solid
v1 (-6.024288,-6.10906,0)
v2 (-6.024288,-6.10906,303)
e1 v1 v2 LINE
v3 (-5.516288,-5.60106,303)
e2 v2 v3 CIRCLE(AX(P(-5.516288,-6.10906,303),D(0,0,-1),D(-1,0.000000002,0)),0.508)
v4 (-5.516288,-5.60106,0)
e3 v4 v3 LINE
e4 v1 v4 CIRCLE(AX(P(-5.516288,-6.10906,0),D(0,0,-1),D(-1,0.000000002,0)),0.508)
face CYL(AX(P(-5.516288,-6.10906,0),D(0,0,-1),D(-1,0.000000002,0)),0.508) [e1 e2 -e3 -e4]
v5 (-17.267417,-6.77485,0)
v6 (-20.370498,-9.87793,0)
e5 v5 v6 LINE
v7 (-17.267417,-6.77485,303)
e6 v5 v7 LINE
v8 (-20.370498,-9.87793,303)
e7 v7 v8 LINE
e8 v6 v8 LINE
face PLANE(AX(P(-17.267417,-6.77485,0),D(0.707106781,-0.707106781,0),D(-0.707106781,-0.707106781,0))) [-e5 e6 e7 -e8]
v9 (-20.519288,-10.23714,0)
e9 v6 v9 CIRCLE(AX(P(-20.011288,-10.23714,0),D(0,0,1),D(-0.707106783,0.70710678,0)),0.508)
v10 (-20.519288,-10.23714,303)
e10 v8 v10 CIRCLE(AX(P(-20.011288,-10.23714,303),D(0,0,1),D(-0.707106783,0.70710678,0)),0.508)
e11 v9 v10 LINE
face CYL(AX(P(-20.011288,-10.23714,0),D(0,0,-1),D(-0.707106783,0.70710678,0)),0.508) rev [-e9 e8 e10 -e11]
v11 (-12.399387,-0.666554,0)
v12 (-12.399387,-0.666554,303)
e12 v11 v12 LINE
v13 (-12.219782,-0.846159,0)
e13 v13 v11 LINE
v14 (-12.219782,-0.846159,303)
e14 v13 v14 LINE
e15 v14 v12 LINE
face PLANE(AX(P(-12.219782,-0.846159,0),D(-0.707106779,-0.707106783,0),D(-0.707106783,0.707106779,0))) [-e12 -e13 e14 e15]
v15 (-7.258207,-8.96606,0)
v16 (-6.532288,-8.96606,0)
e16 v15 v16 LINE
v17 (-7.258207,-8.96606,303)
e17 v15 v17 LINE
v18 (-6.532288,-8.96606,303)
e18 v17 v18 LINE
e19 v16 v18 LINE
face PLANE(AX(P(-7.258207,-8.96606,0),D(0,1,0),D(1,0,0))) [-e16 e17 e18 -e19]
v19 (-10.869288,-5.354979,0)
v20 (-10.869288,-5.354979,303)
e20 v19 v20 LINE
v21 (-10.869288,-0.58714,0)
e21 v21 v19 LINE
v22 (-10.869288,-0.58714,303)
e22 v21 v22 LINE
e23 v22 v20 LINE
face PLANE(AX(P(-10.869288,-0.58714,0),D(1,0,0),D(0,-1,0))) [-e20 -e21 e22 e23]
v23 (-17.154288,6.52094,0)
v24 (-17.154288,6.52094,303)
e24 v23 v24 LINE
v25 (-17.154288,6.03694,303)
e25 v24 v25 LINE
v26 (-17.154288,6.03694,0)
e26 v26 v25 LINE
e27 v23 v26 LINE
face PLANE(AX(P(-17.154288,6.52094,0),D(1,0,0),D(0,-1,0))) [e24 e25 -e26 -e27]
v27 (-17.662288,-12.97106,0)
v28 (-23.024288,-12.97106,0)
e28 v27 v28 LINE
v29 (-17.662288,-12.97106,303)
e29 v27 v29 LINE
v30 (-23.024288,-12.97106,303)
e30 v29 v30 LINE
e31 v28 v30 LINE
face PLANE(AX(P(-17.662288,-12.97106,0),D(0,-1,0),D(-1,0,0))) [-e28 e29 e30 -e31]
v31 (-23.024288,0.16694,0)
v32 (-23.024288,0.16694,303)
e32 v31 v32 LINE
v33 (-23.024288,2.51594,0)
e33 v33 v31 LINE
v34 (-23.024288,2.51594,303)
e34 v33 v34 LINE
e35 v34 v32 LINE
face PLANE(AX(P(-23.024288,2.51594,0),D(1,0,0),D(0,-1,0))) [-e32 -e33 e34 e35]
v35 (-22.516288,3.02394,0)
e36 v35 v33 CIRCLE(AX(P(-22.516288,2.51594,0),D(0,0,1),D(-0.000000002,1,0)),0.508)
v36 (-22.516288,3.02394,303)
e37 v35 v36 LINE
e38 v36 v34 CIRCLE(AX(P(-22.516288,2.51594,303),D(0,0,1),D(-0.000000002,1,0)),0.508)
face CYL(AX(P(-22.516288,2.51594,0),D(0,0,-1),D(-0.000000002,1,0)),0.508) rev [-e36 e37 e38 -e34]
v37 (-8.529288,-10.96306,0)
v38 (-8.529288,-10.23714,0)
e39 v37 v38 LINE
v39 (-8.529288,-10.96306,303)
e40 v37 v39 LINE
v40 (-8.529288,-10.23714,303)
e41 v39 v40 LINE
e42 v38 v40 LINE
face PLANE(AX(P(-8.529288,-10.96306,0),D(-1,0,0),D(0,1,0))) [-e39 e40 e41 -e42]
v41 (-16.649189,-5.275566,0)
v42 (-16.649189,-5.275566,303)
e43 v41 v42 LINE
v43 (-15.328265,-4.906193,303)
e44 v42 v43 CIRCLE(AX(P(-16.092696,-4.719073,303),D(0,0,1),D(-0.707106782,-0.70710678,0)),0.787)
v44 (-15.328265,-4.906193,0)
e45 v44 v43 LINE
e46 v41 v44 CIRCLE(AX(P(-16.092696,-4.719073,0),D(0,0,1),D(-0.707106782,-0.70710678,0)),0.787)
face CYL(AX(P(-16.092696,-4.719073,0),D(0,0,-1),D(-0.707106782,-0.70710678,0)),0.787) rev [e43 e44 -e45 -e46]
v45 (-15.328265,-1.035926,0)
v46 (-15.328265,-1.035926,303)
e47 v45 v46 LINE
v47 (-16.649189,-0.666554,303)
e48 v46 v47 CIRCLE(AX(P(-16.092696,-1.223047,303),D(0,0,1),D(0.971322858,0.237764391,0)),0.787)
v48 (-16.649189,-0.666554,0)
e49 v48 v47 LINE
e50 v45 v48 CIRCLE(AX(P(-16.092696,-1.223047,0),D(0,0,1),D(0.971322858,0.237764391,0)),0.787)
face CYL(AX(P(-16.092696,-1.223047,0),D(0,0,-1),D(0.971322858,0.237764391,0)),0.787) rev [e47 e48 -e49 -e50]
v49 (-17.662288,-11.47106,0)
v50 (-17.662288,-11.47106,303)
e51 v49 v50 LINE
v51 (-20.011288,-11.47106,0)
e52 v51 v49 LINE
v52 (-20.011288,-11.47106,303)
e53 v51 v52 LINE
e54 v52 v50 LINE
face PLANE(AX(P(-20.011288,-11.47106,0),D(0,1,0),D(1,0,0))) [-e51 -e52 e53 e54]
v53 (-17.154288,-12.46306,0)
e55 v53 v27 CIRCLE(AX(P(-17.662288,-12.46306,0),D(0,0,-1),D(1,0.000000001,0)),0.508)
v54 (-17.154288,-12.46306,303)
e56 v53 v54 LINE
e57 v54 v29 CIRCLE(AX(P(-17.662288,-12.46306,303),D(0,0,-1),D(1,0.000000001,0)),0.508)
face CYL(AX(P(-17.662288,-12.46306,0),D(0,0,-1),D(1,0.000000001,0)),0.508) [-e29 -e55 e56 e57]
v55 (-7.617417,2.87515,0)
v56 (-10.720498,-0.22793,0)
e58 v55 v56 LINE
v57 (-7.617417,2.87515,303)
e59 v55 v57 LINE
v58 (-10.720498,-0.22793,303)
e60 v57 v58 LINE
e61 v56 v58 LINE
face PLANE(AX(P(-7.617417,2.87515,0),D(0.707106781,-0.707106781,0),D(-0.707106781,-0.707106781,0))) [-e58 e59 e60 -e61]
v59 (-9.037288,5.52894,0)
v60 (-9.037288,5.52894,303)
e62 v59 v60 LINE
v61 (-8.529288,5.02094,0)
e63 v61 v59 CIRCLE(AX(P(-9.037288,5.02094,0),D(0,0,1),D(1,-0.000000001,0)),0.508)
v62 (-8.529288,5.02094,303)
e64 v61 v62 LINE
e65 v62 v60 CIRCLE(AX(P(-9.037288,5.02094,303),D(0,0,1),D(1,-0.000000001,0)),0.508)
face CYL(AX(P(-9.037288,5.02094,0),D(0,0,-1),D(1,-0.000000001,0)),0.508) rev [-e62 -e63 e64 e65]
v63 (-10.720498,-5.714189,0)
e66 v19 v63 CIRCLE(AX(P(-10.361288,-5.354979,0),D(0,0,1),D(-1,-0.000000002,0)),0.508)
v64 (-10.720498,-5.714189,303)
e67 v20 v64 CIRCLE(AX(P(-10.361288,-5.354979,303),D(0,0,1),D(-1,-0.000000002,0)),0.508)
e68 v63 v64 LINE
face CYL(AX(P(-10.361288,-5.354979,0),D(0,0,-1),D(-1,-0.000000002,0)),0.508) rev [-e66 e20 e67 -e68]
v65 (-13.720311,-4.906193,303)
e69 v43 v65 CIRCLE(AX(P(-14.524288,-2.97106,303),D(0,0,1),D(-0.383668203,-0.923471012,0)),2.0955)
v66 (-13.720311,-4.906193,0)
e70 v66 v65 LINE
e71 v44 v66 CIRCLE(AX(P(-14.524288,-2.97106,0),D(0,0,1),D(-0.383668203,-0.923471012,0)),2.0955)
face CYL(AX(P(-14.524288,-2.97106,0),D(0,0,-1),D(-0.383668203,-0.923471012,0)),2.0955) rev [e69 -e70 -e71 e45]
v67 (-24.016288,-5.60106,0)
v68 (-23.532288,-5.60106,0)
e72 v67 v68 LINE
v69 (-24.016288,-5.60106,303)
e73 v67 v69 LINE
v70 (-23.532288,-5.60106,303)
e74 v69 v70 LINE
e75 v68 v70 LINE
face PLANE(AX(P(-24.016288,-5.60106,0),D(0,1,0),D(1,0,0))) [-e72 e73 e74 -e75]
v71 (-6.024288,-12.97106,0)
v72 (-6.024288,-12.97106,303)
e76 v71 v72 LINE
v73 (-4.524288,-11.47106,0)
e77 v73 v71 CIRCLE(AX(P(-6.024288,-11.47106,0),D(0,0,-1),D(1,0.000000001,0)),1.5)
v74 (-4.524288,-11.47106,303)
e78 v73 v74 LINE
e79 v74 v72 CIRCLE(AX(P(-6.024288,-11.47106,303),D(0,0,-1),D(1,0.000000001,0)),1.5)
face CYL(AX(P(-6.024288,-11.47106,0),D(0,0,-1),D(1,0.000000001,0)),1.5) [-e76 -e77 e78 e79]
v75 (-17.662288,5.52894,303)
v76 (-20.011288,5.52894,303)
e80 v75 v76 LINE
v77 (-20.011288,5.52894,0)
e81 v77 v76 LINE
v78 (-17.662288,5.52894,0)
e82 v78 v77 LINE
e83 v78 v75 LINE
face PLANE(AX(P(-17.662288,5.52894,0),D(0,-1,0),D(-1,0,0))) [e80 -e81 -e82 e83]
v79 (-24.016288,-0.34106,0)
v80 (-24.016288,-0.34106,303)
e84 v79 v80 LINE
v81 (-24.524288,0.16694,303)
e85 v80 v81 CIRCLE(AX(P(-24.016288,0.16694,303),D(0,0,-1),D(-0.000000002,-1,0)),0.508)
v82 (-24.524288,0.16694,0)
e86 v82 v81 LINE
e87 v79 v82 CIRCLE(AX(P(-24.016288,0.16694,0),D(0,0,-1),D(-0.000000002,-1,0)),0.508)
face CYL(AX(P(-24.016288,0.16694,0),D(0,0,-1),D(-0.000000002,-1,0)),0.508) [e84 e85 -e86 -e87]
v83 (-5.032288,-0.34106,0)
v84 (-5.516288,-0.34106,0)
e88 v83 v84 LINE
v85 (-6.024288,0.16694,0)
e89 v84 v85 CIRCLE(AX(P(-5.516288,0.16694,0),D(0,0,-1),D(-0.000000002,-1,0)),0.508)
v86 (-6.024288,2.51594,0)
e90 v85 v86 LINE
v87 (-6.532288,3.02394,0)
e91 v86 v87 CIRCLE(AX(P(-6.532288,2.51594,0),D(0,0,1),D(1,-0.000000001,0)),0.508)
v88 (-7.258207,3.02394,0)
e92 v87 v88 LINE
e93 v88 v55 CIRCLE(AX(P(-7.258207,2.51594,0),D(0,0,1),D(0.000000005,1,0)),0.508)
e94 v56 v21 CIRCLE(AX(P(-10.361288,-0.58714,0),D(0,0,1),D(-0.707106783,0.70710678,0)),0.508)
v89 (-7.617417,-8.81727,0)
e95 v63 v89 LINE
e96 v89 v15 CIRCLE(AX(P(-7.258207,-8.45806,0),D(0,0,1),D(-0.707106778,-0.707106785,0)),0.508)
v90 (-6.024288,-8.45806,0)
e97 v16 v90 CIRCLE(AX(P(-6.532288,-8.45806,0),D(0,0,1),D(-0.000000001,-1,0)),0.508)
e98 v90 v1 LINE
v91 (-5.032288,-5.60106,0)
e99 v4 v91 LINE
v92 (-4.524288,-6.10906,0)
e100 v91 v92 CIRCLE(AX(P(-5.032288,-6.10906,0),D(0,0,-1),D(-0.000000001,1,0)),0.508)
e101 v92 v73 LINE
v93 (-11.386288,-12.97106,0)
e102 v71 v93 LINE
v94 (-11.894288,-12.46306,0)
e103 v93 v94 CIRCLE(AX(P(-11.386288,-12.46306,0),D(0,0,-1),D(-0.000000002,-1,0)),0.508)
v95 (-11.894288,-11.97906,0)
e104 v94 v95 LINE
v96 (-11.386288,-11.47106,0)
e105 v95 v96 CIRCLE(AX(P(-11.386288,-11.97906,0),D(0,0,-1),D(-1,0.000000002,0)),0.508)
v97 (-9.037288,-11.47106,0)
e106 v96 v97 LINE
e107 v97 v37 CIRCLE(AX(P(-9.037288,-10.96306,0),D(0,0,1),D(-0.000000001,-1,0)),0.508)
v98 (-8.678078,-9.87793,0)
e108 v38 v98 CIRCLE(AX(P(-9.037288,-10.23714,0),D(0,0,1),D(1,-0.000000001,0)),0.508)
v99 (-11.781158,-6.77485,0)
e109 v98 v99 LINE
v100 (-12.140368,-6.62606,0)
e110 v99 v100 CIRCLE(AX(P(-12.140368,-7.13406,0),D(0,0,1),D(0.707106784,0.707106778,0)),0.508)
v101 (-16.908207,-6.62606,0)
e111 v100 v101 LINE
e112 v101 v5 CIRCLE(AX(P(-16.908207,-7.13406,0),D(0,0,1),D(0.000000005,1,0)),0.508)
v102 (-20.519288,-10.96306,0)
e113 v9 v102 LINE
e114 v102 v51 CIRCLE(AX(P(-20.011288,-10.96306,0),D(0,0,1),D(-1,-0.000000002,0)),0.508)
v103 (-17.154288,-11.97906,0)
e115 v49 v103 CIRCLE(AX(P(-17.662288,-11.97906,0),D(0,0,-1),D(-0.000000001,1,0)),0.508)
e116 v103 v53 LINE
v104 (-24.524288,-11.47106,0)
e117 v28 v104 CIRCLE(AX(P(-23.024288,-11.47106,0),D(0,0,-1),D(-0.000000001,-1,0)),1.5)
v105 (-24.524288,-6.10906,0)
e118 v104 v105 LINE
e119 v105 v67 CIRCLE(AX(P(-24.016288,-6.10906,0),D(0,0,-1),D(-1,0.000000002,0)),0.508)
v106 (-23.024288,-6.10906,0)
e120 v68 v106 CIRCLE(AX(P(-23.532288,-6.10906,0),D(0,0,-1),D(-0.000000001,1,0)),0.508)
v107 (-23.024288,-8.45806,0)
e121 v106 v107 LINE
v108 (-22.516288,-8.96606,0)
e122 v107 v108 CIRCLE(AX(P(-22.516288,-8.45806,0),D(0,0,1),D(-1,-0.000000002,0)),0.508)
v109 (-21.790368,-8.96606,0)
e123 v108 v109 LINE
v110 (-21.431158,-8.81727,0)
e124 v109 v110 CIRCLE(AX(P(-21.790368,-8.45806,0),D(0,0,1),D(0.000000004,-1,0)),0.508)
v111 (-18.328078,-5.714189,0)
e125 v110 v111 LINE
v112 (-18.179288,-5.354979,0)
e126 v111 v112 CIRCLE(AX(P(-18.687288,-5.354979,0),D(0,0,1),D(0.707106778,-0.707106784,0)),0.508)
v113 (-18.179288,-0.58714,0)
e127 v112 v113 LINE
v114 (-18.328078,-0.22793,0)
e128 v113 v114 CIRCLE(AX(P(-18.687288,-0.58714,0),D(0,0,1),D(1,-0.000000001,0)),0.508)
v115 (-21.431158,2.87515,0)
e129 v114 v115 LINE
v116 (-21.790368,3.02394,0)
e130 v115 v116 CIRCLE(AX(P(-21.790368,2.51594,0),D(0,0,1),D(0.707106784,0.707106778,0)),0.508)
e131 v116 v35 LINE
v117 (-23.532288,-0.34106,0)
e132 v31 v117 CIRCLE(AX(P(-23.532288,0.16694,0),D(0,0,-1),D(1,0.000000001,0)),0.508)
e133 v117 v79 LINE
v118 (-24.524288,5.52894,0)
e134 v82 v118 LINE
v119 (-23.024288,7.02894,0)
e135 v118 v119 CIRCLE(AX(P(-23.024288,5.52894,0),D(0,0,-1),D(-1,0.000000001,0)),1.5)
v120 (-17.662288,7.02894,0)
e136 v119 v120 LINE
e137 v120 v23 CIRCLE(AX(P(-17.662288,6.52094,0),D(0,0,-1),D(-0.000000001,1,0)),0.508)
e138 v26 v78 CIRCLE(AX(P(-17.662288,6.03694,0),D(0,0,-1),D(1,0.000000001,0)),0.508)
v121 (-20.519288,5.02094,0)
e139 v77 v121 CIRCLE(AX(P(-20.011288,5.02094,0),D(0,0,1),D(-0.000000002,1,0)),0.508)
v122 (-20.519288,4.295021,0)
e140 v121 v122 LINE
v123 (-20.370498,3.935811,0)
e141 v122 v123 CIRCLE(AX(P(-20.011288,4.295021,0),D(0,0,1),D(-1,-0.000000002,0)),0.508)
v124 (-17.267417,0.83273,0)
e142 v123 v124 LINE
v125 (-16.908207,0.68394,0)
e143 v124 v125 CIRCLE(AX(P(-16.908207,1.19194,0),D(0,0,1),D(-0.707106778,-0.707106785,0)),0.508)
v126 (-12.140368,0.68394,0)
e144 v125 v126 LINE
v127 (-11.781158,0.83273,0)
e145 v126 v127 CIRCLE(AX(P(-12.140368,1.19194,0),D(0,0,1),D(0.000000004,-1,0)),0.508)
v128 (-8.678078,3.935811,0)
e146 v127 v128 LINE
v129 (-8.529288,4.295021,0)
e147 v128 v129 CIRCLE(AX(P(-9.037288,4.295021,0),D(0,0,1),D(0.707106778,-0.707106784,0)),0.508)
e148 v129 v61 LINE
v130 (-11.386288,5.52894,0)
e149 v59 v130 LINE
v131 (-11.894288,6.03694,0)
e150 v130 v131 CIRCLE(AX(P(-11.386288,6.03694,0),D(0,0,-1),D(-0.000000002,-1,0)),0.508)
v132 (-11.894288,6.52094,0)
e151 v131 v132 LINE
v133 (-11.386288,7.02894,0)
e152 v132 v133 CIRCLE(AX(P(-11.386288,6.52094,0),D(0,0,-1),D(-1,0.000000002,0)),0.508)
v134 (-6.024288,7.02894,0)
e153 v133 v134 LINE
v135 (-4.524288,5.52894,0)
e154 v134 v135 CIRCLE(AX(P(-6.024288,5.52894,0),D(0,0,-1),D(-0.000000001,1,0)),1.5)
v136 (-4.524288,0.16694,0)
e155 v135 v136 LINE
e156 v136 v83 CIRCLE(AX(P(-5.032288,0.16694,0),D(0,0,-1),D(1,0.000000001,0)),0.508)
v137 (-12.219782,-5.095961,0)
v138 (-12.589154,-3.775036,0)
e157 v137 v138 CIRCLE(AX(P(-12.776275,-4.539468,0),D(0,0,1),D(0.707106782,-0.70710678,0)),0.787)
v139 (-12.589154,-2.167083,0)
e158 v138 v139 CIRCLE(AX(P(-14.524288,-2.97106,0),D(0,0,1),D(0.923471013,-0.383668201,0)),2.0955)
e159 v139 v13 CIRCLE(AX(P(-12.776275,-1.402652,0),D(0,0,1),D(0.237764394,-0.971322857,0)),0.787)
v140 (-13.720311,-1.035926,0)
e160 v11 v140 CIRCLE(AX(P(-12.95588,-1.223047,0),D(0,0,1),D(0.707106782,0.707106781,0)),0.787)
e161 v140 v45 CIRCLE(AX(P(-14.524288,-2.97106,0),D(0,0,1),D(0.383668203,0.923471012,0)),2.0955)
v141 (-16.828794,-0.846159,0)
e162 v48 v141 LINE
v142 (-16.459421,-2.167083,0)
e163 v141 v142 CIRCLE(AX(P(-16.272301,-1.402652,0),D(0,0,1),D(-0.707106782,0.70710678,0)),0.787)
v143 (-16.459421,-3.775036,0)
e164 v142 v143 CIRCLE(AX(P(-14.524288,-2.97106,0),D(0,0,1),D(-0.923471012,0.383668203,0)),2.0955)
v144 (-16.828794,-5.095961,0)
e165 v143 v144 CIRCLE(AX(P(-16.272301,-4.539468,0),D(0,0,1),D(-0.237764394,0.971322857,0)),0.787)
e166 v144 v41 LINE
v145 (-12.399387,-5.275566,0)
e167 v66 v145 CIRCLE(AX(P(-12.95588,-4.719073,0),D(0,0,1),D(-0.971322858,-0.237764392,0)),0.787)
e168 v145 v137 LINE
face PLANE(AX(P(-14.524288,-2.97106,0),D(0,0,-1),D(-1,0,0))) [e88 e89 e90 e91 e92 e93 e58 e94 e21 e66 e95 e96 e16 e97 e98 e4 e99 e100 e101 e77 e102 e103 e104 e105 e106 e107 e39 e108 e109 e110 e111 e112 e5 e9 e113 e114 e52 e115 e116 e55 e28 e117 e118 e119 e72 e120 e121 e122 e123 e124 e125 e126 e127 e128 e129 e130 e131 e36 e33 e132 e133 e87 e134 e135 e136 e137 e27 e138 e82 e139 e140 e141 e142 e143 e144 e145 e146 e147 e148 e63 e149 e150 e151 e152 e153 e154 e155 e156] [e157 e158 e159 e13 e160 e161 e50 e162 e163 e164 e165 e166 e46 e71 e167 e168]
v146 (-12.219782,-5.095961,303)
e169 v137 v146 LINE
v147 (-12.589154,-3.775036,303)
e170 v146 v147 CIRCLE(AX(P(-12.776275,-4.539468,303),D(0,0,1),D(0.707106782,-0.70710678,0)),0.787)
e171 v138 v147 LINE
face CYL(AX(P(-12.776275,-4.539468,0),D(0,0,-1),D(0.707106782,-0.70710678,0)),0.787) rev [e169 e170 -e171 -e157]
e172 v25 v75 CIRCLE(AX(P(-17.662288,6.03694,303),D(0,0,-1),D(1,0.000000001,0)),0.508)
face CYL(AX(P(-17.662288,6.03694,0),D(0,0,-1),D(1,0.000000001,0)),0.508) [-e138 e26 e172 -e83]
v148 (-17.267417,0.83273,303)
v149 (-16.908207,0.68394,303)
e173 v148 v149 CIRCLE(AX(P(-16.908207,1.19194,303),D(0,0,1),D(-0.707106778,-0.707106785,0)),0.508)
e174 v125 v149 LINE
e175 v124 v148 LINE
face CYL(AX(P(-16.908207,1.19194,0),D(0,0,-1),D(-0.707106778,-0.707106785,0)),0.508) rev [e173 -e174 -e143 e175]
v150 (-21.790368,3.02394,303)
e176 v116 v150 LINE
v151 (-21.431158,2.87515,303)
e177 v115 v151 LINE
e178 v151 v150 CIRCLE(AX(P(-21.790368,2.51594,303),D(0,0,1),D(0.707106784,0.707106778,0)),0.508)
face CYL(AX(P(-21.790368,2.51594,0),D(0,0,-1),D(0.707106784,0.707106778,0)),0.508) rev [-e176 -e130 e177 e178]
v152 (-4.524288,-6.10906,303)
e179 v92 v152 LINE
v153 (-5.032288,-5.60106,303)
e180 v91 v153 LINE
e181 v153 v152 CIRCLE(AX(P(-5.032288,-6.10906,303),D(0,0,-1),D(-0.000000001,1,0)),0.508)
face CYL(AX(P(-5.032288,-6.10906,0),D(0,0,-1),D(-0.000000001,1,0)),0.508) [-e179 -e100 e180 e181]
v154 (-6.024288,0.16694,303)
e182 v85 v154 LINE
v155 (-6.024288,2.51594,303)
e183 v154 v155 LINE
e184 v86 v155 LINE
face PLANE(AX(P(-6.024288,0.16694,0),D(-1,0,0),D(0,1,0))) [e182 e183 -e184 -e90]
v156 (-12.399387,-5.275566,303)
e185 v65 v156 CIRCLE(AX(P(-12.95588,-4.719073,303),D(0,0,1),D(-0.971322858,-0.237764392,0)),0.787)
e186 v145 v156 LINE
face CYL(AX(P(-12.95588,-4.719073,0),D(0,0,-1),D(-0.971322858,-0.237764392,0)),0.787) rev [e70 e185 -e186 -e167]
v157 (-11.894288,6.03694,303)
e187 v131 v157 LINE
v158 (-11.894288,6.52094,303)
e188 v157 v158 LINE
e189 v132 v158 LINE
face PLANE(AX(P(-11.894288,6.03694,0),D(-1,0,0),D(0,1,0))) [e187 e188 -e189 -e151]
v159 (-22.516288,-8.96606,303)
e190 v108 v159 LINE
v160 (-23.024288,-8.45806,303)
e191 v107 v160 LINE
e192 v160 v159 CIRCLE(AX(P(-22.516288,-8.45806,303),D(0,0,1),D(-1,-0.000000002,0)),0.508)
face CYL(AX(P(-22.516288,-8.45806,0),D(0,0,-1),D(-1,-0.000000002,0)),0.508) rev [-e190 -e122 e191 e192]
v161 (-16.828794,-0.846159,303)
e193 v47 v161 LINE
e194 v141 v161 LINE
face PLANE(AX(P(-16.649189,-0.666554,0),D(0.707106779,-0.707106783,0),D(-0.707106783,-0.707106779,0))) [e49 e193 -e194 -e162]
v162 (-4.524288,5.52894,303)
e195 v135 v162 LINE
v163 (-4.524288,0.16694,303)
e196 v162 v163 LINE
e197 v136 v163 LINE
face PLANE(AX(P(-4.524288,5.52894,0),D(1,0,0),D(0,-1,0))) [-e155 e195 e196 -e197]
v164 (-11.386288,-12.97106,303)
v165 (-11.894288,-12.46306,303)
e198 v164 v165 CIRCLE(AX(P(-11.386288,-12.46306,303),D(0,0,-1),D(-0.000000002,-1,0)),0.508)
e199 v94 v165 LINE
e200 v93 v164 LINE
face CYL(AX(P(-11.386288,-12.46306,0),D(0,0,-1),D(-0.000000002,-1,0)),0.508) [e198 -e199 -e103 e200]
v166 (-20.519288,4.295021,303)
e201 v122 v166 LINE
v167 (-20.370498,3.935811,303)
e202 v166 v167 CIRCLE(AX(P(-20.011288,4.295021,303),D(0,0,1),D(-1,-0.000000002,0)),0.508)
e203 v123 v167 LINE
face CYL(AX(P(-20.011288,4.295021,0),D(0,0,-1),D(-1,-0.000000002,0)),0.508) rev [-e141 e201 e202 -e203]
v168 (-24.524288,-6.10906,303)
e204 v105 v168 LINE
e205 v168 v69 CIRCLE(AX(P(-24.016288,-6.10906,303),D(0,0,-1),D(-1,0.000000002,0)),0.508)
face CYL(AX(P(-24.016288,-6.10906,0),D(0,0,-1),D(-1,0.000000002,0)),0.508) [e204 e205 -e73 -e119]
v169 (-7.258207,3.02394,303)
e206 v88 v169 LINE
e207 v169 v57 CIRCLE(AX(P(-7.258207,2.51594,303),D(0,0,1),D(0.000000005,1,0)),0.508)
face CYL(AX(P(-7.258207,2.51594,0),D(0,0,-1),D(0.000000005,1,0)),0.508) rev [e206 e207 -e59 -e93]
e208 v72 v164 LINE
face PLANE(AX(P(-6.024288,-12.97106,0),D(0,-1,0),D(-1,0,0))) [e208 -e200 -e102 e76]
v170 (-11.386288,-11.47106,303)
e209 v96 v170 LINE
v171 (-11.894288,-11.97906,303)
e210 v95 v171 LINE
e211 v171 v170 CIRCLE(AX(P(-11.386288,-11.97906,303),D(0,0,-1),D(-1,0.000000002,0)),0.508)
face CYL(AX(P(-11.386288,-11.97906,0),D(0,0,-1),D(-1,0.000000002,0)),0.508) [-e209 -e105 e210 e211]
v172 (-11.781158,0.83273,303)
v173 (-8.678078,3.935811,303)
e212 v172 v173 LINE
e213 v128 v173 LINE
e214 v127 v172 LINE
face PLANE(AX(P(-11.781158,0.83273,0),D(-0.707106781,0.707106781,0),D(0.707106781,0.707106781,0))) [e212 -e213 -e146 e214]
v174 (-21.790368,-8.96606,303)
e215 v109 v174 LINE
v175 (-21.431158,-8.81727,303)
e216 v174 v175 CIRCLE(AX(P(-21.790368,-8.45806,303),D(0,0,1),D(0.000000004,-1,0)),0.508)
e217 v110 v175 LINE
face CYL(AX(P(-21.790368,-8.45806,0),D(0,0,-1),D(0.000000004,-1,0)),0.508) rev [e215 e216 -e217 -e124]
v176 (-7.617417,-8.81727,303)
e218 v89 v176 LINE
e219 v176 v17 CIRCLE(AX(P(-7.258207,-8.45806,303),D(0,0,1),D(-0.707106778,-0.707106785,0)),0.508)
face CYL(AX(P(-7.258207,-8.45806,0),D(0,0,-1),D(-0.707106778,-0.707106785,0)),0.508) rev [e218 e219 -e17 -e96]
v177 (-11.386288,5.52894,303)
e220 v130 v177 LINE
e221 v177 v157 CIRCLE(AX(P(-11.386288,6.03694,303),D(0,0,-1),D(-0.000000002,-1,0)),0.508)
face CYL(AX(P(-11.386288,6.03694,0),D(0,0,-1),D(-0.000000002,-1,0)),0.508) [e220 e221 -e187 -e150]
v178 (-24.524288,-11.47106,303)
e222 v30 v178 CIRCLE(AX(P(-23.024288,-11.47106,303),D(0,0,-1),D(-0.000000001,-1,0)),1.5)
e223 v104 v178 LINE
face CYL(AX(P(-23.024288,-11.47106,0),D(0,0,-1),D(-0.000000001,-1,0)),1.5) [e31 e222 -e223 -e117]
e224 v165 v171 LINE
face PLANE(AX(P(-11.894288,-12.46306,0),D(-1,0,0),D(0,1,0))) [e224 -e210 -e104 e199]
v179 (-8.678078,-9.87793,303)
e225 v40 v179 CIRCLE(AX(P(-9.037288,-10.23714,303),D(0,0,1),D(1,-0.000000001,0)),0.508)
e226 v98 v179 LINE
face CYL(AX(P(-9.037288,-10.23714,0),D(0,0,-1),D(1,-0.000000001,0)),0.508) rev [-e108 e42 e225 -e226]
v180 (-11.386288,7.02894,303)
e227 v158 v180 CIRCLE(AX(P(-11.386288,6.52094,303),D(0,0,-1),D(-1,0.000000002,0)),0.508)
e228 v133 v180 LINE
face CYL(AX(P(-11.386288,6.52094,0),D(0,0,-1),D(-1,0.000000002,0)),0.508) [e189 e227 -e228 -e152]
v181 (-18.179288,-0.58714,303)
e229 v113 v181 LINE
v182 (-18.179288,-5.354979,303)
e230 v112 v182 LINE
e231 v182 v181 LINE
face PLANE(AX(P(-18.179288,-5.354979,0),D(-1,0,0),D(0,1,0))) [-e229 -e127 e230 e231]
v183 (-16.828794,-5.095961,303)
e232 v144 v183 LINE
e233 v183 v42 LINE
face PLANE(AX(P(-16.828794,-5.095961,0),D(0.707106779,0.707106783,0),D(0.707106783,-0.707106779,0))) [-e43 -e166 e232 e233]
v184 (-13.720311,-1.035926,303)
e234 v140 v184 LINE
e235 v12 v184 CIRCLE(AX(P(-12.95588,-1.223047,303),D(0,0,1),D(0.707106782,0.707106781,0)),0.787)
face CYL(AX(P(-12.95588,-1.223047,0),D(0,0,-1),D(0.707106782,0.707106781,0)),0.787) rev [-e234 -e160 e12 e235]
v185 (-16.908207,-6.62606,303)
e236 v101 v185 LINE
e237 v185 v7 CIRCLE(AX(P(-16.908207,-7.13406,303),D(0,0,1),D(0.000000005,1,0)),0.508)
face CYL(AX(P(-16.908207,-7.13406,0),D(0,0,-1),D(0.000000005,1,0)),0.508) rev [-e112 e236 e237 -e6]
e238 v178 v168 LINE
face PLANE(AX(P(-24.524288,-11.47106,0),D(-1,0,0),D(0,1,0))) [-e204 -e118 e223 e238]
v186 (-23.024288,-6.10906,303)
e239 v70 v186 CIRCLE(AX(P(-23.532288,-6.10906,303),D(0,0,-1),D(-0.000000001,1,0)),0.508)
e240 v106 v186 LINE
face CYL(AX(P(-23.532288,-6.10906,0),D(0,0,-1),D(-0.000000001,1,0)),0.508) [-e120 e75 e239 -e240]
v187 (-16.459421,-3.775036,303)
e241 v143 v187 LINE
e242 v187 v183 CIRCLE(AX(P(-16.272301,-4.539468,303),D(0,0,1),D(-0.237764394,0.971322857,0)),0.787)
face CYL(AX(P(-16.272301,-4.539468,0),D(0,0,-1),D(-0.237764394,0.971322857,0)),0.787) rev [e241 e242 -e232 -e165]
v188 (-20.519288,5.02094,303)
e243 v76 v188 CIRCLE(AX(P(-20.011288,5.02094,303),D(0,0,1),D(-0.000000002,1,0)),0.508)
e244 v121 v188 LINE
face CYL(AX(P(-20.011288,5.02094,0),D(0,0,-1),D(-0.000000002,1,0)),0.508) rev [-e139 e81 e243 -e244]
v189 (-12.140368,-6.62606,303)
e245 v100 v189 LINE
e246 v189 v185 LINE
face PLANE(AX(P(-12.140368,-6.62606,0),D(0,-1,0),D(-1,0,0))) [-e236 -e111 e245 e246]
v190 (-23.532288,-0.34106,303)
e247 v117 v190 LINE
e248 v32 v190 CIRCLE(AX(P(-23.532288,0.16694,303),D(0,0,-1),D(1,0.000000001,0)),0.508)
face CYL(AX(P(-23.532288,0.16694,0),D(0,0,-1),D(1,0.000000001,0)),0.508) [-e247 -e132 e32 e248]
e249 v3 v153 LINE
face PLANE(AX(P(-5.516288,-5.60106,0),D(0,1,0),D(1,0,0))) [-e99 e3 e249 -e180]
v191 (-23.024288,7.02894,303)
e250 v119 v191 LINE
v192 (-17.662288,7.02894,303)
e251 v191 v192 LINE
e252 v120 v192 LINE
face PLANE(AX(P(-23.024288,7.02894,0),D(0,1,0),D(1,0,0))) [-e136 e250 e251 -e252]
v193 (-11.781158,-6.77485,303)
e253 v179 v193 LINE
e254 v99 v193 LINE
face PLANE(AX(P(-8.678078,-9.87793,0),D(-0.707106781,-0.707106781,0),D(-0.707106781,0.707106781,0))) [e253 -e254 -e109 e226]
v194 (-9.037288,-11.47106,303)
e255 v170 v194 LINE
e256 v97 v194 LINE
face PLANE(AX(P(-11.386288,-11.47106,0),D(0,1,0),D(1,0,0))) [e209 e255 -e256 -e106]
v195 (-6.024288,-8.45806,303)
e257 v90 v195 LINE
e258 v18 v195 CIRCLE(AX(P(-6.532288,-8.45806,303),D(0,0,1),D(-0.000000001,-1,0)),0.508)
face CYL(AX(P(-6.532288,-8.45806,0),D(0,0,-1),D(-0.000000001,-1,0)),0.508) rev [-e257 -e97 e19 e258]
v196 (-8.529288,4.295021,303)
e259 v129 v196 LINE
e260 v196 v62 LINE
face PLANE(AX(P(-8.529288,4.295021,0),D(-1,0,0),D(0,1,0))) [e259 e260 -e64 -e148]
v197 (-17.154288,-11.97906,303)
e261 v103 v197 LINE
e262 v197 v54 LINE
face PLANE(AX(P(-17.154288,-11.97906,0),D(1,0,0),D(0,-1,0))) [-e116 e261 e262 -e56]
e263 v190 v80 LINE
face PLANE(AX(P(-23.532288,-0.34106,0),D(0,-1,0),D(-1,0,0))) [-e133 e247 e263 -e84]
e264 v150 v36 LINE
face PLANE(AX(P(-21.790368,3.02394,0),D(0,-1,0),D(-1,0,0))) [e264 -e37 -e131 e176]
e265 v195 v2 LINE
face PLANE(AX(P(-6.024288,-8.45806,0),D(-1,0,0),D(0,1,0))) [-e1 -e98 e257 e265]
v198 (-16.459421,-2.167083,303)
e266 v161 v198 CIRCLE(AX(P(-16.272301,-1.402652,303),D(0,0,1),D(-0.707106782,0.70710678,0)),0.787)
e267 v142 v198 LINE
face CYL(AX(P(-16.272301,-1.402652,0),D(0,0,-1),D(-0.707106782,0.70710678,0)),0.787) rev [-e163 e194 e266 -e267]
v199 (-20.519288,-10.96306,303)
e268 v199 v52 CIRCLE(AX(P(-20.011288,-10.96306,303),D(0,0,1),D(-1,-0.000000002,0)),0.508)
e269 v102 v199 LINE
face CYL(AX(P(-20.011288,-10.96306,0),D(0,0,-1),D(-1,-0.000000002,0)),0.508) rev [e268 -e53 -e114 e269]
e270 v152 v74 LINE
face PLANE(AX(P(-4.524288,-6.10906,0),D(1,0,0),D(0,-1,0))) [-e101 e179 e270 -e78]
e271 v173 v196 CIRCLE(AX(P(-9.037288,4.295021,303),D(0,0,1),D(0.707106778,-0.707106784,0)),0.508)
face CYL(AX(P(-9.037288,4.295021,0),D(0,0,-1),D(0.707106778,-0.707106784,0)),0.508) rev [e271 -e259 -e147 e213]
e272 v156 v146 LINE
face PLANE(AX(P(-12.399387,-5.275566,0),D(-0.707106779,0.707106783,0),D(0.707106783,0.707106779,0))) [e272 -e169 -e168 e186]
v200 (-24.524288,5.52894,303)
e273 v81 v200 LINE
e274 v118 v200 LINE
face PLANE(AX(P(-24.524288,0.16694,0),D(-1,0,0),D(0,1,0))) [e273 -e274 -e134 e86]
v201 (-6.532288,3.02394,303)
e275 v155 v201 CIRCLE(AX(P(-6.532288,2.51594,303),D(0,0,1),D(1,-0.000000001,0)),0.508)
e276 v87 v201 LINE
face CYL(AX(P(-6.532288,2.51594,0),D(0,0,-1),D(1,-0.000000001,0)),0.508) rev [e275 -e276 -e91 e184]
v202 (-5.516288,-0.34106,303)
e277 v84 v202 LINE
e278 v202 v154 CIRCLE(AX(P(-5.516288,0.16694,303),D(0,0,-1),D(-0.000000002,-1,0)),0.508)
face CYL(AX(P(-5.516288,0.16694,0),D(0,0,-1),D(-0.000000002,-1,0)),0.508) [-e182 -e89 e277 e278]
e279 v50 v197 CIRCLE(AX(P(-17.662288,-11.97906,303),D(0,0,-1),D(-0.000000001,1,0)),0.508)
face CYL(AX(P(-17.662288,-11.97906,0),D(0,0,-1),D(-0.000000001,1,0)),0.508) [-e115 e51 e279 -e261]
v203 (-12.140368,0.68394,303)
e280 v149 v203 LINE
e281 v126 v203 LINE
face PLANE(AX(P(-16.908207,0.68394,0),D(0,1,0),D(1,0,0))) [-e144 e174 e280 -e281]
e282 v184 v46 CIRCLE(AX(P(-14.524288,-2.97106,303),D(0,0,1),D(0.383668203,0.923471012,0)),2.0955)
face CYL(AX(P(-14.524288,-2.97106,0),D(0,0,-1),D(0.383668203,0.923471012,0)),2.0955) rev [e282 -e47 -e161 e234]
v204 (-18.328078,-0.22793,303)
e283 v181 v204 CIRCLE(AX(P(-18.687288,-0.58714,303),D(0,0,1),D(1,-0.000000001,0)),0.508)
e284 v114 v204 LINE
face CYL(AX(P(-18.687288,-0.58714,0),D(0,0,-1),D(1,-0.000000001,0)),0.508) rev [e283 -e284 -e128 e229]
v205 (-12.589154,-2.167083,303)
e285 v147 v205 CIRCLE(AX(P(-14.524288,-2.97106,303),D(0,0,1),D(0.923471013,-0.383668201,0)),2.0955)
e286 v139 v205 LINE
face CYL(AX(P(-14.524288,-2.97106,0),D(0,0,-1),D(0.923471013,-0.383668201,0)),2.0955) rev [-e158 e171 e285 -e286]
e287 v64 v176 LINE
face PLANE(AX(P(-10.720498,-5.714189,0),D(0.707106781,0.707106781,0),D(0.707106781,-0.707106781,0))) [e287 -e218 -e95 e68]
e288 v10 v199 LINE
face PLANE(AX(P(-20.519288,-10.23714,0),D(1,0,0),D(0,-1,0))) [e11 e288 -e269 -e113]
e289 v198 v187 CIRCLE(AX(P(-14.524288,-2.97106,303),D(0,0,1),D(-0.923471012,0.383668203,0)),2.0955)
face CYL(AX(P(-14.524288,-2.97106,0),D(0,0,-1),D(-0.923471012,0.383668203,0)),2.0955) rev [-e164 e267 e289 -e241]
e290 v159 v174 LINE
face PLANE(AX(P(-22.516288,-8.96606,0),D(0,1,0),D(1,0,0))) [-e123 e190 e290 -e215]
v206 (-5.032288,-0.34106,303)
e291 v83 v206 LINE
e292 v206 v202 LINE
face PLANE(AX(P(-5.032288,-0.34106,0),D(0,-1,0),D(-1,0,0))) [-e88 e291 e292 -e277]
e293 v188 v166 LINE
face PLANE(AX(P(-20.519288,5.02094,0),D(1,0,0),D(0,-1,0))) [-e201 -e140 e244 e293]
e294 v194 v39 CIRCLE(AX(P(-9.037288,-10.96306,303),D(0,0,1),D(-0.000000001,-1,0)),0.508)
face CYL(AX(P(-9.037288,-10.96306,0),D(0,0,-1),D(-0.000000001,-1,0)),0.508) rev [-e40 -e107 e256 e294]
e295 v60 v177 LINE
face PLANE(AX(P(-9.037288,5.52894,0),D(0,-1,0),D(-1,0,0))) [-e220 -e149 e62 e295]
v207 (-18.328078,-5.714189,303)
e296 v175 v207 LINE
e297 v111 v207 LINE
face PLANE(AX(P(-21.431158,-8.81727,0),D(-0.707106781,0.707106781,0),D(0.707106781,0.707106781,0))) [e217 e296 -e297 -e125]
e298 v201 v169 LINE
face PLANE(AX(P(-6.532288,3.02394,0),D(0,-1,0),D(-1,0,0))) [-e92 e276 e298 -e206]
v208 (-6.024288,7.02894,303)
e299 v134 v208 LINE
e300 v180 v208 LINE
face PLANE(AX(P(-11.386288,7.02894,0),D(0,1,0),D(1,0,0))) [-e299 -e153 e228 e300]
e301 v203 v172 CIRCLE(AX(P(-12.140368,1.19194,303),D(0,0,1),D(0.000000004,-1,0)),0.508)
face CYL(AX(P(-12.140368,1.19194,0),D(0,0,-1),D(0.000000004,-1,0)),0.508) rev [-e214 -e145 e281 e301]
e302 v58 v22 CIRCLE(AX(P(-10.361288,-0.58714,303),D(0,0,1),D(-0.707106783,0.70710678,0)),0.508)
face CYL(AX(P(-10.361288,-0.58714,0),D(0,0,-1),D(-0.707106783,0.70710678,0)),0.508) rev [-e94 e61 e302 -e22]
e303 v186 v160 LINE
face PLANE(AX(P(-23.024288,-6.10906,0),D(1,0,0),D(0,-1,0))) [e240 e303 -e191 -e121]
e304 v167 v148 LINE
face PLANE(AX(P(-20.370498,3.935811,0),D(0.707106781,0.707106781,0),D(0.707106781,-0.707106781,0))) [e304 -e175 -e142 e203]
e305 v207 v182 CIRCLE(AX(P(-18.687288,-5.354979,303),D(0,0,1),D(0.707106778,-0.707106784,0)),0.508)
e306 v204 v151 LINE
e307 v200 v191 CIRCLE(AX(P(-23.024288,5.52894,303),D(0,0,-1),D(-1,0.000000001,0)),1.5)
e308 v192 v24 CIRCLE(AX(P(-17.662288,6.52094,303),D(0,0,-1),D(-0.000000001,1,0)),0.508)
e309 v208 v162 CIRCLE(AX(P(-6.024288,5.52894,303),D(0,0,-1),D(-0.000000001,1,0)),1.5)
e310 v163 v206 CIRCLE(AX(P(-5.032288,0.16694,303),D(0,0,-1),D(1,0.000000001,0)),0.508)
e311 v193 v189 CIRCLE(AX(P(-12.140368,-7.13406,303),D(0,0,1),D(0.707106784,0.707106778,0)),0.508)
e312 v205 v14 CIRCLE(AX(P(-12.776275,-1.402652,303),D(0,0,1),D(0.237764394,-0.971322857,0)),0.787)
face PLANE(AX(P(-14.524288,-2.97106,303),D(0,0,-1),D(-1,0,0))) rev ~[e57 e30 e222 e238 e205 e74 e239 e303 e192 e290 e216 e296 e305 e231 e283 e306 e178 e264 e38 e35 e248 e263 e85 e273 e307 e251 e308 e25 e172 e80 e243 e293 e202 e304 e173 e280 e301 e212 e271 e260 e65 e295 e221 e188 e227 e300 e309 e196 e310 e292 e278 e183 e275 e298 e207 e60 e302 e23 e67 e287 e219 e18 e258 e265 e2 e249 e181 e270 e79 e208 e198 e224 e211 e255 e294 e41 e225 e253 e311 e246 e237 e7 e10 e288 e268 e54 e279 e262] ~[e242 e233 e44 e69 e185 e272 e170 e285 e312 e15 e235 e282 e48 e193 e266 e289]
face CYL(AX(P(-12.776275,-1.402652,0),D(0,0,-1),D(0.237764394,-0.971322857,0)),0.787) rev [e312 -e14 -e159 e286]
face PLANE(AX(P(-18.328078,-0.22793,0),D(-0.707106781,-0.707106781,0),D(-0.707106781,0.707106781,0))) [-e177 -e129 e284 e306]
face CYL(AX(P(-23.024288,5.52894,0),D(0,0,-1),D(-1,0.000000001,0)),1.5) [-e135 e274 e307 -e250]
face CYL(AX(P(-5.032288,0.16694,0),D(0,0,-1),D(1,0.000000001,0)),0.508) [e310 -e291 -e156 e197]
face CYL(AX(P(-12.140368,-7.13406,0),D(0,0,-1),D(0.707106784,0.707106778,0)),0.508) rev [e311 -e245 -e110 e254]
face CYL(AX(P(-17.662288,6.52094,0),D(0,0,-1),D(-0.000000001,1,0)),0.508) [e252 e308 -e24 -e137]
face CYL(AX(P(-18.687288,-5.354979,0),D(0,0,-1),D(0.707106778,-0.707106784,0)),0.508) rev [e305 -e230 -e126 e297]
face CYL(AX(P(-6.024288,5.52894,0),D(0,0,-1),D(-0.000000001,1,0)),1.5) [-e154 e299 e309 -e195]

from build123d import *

# Parameters (mm, degrees)
EXTRUDE1_DEPTH = 303


with BuildPart() as part:
    # Sketch1 → Extrude1 (new body)
    with BuildSketch(Plane.XY):
        with BuildLine():
            Line((-5.032287798, -0.341059771), (-5.516287798, -0.341059771))
            ThreePointArc((-5.516287798, -0.341059771), (-5.875498042, -0.192270016), (-6.024287798, 0.166940229))
            Line((-6.024287798, 0.166940229), (-6.024287798, 2.515940229))
            ThreePointArc((-6.024287798, 2.515940229), (-6.173077553, 2.875150474), (-6.532287798, 3.023940229))
            Line((-6.532287798, 3.023940229), (-7.258207136, 3.023940229))
            ThreePointArc((-7.258207136, 3.023940229), (-7.45261032, 2.985271032), (-7.617417381, 2.875150474))
            Line((-7.617417381, 2.875150474), (-10.720498042, -0.227930187))
            ThreePointArc((-10.720498042, -0.227930187), (-10.8306186, -0.392737249), (-10.869287798, -0.587140432))
            Line((-10.869287798, -0.587140432), (-10.869287798, -5.354979109))
            ThreePointArc((-10.869287798, -5.354979109), (-10.8306186, -5.549382293), (-10.720498042, -5.714189354))
            Line((-10.720498042, -5.714189354), (-7.617417381, -8.817270016))
            ThreePointArc((-7.617417381, -8.817270016), (-7.45261032, -8.927390573), (-7.258207136, -8.966059771))
            Line((-7.258207136, -8.966059771), (-6.532287798, -8.966059771))
            ThreePointArc((-6.532287798, -8.966059771), (-6.173077553, -8.817270016), (-6.024287798, -8.458059771))
            Line((-6.024287798, -8.458059771), (-6.024287798, -6.109059771))
            ThreePointArc((-6.024287798, -6.109059771), (-5.875498042, -5.749849526), (-5.516287798, -5.601059771))
            Line((-5.516287798, -5.601059771), (-5.032287798, -5.601059771))
            ThreePointArc((-5.032287798, -5.601059771), (-4.673077553, -5.749849526), (-4.524287798, -6.109059771))
            Line((-4.524287798, -6.109059771), (-4.524287798, -11.471059771))
            ThreePointArc((-4.524287798, -11.471059771), (-4.963627626, -12.531719943), (-6.024287798, -12.971059771))
            Line((-6.024287798, -12.971059771), (-11.386287798, -12.971059771))
            ThreePointArc((-11.386287798, -12.971059771), (-11.745498042, -12.822270016), (-11.894287798, -12.463059771))
            Line((-11.894287798, -12.463059771), (-11.894287798, -11.979059771))
            ThreePointArc((-11.894287798, -11.979059771), (-11.745498042, -11.619849526), (-11.386287798, -11.471059771))
            Line((-11.386287798, -11.471059771), (-9.037287798, -11.471059771))
            ThreePointArc((-9.037287798, -11.471059771), (-8.678077553, -11.322270016), (-8.529287798, -10.963059771))
            Line((-8.529287798, -10.963059771), (-8.529287798, -10.237140432))
            ThreePointArc((-8.529287798, -10.237140432), (-8.567956995, -10.042737249), (-8.678077553, -9.877930187))
            Line((-8.678077553, -9.877930187), (-11.781158214, -6.774849526))
            ThreePointArc((-11.781158214, -6.774849526), (-11.945965275, -6.664728968), (-12.140368459, -6.626059771))
            Line((-12.140368459, -6.626059771), (-16.908207136, -6.626059771))
            ThreePointArc((-16.908207136, -6.626059771), (-17.10261032, -6.664728968), (-17.267417381, -6.774849526))
            Line((-17.267417381, -6.774849526), (-20.370498042, -9.877930187))
            ThreePointArc((-20.370498042, -9.877930187), (-20.4806186, -10.042737249), (-20.519287798, -10.237140432))
            Line((-20.519287798, -10.237140432), (-20.519287798, -10.963059771))
            ThreePointArc((-20.519287798, -10.963059771), (-20.370498042, -11.322270016), (-20.011287798, -11.471059771))
            Line((-20.011287798, -11.471059771), (-17.662287798, -11.471059771))
            ThreePointArc((-17.662287798, -11.471059771), (-17.303077553, -11.619849526), (-17.154287798, -11.979059771))
            Line((-17.154287798, -11.979059771), (-17.154287798, -12.463059771))
            ThreePointArc((-17.154287798, -12.463059771), (-17.303077553, -12.822270016), (-17.662287798, -12.971059771))
            Line((-17.662287798, -12.971059771), (-23.024287798, -12.971059771))
            ThreePointArc((-23.024287798, -12.971059771), (-24.084947969, -12.531719943), (-24.524287798, -11.471059771))
            Line((-24.524287798, -11.471059771), (-24.524287798, -6.109059771))
            ThreePointArc((-24.524287798, -6.109059771), (-24.375498042, -5.749849526), (-24.016287798, -5.601059771))
            Line((-24.016287798, -5.601059771), (-23.532287798, -5.601059771))
            ThreePointArc((-23.532287798, -5.601059771), (-23.173077553, -5.749849526), (-23.024287798, -6.109059771))
            Line((-23.024287798, -6.109059771), (-23.024287798, -8.458059771))
            ThreePointArc((-23.024287798, -8.458059771), (-22.875498042, -8.817270016), (-22.516287798, -8.966059771))
            Line((-22.516287798, -8.966059771), (-21.790368459, -8.966059771))
            ThreePointArc((-21.790368459, -8.966059771), (-21.595965275, -8.927390573), (-21.431158214, -8.817270016))
            Line((-21.431158214, -8.817270016), (-18.328077553, -5.714189354))
            ThreePointArc((-18.328077553, -5.714189354), (-18.217956995, -5.549382293), (-18.179287798, -5.354979109))
            Line((-18.179287798, -5.354979109), (-18.179287798, -0.587140432))
            ThreePointArc((-18.179287798, -0.587140432), (-18.217956995, -0.392737249), (-18.328077553, -0.227930187))
            Line((-18.328077553, -0.227930187), (-21.431158214, 2.875150474))
            ThreePointArc((-21.431158214, 2.875150474), (-21.595965275, 2.985271032), (-21.790368459, 3.023940229))
            Line((-21.790368459, 3.023940229), (-22.516287798, 3.023940229))
            ThreePointArc((-22.516287798, 3.023940229), (-22.875498042, 2.875150474), (-23.024287798, 2.515940229))
            Line((-23.024287798, 2.515940229), (-23.024287798, 0.166940229))
            ThreePointArc((-23.024287798, 0.166940229), (-23.173077553, -0.192270016), (-23.532287798, -0.341059771))
            Line((-23.532287798, -0.341059771), (-24.016287798, -0.341059771))
            ThreePointArc((-24.016287798, -0.341059771), (-24.375498042, -0.192270016), (-24.524287798, 0.166940229))
            Line((-24.524287798, 0.166940229), (-24.524287798, 5.528940229))
            ThreePointArc((-24.524287798, 5.528940229), (-24.084947969, 6.589600401), (-23.024287798, 7.028940229))
            Line((-23.024287798, 7.028940229), (-17.662287798, 7.028940229))
            ThreePointArc((-17.662287798, 7.028940229), (-17.303077553, 6.880150474), (-17.154287798, 6.520940229))
            Line((-17.154287798, 6.520940229), (-17.154287798, 6.036940229))
            ThreePointArc((-17.154287798, 6.036940229), (-17.303077553, 5.677729984), (-17.662287798, 5.528940229))
            Line((-17.662287798, 5.528940229), (-20.011287798, 5.528940229))
            ThreePointArc((-20.011287798, 5.528940229), (-20.370498042, 5.380150474), (-20.519287798, 5.020940229))
            Line((-20.519287798, 5.020940229), (-20.519287798, 4.295020891))
            ThreePointArc((-20.519287798, 4.295020891), (-20.4806186, 4.100617707), (-20.370498042, 3.935810646))
            Line((-20.370498042, 3.935810646), (-17.267417381, 0.832729984))
            ThreePointArc((-17.267417381, 0.832729984), (-17.10261032, 0.722609427), (-16.908207136, 0.683940229))
            Line((-16.908207136, 0.683940229), (-12.140368459, 0.683940229))
            ThreePointArc((-12.140368459, 0.683940229), (-11.945965275, 0.722609427), (-11.781158214, 0.832729984))
            Line((-11.781158214, 0.832729984), (-8.678077553, 3.935810646))
            ThreePointArc((-8.678077553, 3.935810646), (-8.567956995, 4.100617707), (-8.529287798, 4.295020891))
            Line((-8.529287798, 4.295020891), (-8.529287798, 5.020940229))
            ThreePointArc((-8.529287798, 5.020940229), (-8.678077553, 5.380150474), (-9.037287798, 5.528940229))
            Line((-9.037287798, 5.528940229), (-11.386287798, 5.528940229))
            ThreePointArc((-11.386287798, 5.528940229), (-11.745498042, 5.677729984), (-11.894287798, 6.036940229))
            Line((-11.894287798, 6.036940229), (-11.894287798, 6.520940229))
            ThreePointArc((-11.894287798, 6.520940229), (-11.745498042, 6.880150474), (-11.386287798, 7.028940229))
            Line((-11.386287798, 7.028940229), (-6.024287798, 7.028940229))
            ThreePointArc((-6.024287798, 7.028940229), (-4.963627626, 6.589600401), (-4.524287798, 5.528940229))
            Line((-4.524287798, 5.528940229), (-4.524287798, 0.166940229))
            ThreePointArc((-4.524287798, 0.166940229), (-4.673077553, -0.192270016), (-5.032287798, -0.341059771))
        make_face()
        with BuildLine():
            Line((-12.399386954, -5.275565737), (-12.219781831, -5.095960615))
            ThreePointArc((-12.219781831, -5.095960615), (-12.018349781, -4.327527582), (-12.589154291, -3.775036489))
            ThreePointArc((-12.589154291, -3.775036489), (-12.428787798, -2.971059771), (-12.589154291, -2.167083053))
            ThreePointArc((-12.589154291, -2.167083053), (-12.018349781, -1.61459196), (-12.219781831, -0.846158927))
            Line((-12.219781831, -0.846158927), (-12.399386954, -0.666553805))
            ThreePointArc((-12.399386954, -0.666553805), (-13.167819987, -0.465121754), (-13.72031108, -1.035926265))
            ThreePointArc((-13.72031108, -1.035926265), (-14.524287798, -0.875559771), (-15.328264516, -1.035926265))
            ThreePointArc((-15.328264516, -1.035926265), (-15.880755608, -0.465121754), (-16.649188641, -0.666553805))
            Line((-16.649188641, -0.666553805), (-16.828793764, -0.846158927))
            ThreePointArc((-16.828793764, -0.846158927), (-17.030225814, -1.61459196), (-16.459421304, -2.167083053))
            ThreePointArc((-16.459421304, -2.167083053), (-16.619787798, -2.971059771), (-16.459421304, -3.775036489))
            ThreePointArc((-16.459421304, -3.775036489), (-17.030225814, -4.327527582), (-16.828793764, -5.095960615))
            Line((-16.828793764, -5.095960615), (-16.649188641, -5.275565737))
            ThreePointArc((-16.649188641, -5.275565737), (-15.880755608, -5.476997788), (-15.328264516, -4.906193277))
            ThreePointArc((-15.328264516, -4.906193277), (-14.524287798, -5.066559771), (-13.72031108, -4.906193277))
            ThreePointArc((-13.72031108, -4.906193277), (-13.167819987, -5.476997788), (-12.399386954, -5.275565737))
        make_face(mode=Mode.SUBTRACT)
    extrude(amount=EXTRUDE1_DEPTH)


solid = part.part
